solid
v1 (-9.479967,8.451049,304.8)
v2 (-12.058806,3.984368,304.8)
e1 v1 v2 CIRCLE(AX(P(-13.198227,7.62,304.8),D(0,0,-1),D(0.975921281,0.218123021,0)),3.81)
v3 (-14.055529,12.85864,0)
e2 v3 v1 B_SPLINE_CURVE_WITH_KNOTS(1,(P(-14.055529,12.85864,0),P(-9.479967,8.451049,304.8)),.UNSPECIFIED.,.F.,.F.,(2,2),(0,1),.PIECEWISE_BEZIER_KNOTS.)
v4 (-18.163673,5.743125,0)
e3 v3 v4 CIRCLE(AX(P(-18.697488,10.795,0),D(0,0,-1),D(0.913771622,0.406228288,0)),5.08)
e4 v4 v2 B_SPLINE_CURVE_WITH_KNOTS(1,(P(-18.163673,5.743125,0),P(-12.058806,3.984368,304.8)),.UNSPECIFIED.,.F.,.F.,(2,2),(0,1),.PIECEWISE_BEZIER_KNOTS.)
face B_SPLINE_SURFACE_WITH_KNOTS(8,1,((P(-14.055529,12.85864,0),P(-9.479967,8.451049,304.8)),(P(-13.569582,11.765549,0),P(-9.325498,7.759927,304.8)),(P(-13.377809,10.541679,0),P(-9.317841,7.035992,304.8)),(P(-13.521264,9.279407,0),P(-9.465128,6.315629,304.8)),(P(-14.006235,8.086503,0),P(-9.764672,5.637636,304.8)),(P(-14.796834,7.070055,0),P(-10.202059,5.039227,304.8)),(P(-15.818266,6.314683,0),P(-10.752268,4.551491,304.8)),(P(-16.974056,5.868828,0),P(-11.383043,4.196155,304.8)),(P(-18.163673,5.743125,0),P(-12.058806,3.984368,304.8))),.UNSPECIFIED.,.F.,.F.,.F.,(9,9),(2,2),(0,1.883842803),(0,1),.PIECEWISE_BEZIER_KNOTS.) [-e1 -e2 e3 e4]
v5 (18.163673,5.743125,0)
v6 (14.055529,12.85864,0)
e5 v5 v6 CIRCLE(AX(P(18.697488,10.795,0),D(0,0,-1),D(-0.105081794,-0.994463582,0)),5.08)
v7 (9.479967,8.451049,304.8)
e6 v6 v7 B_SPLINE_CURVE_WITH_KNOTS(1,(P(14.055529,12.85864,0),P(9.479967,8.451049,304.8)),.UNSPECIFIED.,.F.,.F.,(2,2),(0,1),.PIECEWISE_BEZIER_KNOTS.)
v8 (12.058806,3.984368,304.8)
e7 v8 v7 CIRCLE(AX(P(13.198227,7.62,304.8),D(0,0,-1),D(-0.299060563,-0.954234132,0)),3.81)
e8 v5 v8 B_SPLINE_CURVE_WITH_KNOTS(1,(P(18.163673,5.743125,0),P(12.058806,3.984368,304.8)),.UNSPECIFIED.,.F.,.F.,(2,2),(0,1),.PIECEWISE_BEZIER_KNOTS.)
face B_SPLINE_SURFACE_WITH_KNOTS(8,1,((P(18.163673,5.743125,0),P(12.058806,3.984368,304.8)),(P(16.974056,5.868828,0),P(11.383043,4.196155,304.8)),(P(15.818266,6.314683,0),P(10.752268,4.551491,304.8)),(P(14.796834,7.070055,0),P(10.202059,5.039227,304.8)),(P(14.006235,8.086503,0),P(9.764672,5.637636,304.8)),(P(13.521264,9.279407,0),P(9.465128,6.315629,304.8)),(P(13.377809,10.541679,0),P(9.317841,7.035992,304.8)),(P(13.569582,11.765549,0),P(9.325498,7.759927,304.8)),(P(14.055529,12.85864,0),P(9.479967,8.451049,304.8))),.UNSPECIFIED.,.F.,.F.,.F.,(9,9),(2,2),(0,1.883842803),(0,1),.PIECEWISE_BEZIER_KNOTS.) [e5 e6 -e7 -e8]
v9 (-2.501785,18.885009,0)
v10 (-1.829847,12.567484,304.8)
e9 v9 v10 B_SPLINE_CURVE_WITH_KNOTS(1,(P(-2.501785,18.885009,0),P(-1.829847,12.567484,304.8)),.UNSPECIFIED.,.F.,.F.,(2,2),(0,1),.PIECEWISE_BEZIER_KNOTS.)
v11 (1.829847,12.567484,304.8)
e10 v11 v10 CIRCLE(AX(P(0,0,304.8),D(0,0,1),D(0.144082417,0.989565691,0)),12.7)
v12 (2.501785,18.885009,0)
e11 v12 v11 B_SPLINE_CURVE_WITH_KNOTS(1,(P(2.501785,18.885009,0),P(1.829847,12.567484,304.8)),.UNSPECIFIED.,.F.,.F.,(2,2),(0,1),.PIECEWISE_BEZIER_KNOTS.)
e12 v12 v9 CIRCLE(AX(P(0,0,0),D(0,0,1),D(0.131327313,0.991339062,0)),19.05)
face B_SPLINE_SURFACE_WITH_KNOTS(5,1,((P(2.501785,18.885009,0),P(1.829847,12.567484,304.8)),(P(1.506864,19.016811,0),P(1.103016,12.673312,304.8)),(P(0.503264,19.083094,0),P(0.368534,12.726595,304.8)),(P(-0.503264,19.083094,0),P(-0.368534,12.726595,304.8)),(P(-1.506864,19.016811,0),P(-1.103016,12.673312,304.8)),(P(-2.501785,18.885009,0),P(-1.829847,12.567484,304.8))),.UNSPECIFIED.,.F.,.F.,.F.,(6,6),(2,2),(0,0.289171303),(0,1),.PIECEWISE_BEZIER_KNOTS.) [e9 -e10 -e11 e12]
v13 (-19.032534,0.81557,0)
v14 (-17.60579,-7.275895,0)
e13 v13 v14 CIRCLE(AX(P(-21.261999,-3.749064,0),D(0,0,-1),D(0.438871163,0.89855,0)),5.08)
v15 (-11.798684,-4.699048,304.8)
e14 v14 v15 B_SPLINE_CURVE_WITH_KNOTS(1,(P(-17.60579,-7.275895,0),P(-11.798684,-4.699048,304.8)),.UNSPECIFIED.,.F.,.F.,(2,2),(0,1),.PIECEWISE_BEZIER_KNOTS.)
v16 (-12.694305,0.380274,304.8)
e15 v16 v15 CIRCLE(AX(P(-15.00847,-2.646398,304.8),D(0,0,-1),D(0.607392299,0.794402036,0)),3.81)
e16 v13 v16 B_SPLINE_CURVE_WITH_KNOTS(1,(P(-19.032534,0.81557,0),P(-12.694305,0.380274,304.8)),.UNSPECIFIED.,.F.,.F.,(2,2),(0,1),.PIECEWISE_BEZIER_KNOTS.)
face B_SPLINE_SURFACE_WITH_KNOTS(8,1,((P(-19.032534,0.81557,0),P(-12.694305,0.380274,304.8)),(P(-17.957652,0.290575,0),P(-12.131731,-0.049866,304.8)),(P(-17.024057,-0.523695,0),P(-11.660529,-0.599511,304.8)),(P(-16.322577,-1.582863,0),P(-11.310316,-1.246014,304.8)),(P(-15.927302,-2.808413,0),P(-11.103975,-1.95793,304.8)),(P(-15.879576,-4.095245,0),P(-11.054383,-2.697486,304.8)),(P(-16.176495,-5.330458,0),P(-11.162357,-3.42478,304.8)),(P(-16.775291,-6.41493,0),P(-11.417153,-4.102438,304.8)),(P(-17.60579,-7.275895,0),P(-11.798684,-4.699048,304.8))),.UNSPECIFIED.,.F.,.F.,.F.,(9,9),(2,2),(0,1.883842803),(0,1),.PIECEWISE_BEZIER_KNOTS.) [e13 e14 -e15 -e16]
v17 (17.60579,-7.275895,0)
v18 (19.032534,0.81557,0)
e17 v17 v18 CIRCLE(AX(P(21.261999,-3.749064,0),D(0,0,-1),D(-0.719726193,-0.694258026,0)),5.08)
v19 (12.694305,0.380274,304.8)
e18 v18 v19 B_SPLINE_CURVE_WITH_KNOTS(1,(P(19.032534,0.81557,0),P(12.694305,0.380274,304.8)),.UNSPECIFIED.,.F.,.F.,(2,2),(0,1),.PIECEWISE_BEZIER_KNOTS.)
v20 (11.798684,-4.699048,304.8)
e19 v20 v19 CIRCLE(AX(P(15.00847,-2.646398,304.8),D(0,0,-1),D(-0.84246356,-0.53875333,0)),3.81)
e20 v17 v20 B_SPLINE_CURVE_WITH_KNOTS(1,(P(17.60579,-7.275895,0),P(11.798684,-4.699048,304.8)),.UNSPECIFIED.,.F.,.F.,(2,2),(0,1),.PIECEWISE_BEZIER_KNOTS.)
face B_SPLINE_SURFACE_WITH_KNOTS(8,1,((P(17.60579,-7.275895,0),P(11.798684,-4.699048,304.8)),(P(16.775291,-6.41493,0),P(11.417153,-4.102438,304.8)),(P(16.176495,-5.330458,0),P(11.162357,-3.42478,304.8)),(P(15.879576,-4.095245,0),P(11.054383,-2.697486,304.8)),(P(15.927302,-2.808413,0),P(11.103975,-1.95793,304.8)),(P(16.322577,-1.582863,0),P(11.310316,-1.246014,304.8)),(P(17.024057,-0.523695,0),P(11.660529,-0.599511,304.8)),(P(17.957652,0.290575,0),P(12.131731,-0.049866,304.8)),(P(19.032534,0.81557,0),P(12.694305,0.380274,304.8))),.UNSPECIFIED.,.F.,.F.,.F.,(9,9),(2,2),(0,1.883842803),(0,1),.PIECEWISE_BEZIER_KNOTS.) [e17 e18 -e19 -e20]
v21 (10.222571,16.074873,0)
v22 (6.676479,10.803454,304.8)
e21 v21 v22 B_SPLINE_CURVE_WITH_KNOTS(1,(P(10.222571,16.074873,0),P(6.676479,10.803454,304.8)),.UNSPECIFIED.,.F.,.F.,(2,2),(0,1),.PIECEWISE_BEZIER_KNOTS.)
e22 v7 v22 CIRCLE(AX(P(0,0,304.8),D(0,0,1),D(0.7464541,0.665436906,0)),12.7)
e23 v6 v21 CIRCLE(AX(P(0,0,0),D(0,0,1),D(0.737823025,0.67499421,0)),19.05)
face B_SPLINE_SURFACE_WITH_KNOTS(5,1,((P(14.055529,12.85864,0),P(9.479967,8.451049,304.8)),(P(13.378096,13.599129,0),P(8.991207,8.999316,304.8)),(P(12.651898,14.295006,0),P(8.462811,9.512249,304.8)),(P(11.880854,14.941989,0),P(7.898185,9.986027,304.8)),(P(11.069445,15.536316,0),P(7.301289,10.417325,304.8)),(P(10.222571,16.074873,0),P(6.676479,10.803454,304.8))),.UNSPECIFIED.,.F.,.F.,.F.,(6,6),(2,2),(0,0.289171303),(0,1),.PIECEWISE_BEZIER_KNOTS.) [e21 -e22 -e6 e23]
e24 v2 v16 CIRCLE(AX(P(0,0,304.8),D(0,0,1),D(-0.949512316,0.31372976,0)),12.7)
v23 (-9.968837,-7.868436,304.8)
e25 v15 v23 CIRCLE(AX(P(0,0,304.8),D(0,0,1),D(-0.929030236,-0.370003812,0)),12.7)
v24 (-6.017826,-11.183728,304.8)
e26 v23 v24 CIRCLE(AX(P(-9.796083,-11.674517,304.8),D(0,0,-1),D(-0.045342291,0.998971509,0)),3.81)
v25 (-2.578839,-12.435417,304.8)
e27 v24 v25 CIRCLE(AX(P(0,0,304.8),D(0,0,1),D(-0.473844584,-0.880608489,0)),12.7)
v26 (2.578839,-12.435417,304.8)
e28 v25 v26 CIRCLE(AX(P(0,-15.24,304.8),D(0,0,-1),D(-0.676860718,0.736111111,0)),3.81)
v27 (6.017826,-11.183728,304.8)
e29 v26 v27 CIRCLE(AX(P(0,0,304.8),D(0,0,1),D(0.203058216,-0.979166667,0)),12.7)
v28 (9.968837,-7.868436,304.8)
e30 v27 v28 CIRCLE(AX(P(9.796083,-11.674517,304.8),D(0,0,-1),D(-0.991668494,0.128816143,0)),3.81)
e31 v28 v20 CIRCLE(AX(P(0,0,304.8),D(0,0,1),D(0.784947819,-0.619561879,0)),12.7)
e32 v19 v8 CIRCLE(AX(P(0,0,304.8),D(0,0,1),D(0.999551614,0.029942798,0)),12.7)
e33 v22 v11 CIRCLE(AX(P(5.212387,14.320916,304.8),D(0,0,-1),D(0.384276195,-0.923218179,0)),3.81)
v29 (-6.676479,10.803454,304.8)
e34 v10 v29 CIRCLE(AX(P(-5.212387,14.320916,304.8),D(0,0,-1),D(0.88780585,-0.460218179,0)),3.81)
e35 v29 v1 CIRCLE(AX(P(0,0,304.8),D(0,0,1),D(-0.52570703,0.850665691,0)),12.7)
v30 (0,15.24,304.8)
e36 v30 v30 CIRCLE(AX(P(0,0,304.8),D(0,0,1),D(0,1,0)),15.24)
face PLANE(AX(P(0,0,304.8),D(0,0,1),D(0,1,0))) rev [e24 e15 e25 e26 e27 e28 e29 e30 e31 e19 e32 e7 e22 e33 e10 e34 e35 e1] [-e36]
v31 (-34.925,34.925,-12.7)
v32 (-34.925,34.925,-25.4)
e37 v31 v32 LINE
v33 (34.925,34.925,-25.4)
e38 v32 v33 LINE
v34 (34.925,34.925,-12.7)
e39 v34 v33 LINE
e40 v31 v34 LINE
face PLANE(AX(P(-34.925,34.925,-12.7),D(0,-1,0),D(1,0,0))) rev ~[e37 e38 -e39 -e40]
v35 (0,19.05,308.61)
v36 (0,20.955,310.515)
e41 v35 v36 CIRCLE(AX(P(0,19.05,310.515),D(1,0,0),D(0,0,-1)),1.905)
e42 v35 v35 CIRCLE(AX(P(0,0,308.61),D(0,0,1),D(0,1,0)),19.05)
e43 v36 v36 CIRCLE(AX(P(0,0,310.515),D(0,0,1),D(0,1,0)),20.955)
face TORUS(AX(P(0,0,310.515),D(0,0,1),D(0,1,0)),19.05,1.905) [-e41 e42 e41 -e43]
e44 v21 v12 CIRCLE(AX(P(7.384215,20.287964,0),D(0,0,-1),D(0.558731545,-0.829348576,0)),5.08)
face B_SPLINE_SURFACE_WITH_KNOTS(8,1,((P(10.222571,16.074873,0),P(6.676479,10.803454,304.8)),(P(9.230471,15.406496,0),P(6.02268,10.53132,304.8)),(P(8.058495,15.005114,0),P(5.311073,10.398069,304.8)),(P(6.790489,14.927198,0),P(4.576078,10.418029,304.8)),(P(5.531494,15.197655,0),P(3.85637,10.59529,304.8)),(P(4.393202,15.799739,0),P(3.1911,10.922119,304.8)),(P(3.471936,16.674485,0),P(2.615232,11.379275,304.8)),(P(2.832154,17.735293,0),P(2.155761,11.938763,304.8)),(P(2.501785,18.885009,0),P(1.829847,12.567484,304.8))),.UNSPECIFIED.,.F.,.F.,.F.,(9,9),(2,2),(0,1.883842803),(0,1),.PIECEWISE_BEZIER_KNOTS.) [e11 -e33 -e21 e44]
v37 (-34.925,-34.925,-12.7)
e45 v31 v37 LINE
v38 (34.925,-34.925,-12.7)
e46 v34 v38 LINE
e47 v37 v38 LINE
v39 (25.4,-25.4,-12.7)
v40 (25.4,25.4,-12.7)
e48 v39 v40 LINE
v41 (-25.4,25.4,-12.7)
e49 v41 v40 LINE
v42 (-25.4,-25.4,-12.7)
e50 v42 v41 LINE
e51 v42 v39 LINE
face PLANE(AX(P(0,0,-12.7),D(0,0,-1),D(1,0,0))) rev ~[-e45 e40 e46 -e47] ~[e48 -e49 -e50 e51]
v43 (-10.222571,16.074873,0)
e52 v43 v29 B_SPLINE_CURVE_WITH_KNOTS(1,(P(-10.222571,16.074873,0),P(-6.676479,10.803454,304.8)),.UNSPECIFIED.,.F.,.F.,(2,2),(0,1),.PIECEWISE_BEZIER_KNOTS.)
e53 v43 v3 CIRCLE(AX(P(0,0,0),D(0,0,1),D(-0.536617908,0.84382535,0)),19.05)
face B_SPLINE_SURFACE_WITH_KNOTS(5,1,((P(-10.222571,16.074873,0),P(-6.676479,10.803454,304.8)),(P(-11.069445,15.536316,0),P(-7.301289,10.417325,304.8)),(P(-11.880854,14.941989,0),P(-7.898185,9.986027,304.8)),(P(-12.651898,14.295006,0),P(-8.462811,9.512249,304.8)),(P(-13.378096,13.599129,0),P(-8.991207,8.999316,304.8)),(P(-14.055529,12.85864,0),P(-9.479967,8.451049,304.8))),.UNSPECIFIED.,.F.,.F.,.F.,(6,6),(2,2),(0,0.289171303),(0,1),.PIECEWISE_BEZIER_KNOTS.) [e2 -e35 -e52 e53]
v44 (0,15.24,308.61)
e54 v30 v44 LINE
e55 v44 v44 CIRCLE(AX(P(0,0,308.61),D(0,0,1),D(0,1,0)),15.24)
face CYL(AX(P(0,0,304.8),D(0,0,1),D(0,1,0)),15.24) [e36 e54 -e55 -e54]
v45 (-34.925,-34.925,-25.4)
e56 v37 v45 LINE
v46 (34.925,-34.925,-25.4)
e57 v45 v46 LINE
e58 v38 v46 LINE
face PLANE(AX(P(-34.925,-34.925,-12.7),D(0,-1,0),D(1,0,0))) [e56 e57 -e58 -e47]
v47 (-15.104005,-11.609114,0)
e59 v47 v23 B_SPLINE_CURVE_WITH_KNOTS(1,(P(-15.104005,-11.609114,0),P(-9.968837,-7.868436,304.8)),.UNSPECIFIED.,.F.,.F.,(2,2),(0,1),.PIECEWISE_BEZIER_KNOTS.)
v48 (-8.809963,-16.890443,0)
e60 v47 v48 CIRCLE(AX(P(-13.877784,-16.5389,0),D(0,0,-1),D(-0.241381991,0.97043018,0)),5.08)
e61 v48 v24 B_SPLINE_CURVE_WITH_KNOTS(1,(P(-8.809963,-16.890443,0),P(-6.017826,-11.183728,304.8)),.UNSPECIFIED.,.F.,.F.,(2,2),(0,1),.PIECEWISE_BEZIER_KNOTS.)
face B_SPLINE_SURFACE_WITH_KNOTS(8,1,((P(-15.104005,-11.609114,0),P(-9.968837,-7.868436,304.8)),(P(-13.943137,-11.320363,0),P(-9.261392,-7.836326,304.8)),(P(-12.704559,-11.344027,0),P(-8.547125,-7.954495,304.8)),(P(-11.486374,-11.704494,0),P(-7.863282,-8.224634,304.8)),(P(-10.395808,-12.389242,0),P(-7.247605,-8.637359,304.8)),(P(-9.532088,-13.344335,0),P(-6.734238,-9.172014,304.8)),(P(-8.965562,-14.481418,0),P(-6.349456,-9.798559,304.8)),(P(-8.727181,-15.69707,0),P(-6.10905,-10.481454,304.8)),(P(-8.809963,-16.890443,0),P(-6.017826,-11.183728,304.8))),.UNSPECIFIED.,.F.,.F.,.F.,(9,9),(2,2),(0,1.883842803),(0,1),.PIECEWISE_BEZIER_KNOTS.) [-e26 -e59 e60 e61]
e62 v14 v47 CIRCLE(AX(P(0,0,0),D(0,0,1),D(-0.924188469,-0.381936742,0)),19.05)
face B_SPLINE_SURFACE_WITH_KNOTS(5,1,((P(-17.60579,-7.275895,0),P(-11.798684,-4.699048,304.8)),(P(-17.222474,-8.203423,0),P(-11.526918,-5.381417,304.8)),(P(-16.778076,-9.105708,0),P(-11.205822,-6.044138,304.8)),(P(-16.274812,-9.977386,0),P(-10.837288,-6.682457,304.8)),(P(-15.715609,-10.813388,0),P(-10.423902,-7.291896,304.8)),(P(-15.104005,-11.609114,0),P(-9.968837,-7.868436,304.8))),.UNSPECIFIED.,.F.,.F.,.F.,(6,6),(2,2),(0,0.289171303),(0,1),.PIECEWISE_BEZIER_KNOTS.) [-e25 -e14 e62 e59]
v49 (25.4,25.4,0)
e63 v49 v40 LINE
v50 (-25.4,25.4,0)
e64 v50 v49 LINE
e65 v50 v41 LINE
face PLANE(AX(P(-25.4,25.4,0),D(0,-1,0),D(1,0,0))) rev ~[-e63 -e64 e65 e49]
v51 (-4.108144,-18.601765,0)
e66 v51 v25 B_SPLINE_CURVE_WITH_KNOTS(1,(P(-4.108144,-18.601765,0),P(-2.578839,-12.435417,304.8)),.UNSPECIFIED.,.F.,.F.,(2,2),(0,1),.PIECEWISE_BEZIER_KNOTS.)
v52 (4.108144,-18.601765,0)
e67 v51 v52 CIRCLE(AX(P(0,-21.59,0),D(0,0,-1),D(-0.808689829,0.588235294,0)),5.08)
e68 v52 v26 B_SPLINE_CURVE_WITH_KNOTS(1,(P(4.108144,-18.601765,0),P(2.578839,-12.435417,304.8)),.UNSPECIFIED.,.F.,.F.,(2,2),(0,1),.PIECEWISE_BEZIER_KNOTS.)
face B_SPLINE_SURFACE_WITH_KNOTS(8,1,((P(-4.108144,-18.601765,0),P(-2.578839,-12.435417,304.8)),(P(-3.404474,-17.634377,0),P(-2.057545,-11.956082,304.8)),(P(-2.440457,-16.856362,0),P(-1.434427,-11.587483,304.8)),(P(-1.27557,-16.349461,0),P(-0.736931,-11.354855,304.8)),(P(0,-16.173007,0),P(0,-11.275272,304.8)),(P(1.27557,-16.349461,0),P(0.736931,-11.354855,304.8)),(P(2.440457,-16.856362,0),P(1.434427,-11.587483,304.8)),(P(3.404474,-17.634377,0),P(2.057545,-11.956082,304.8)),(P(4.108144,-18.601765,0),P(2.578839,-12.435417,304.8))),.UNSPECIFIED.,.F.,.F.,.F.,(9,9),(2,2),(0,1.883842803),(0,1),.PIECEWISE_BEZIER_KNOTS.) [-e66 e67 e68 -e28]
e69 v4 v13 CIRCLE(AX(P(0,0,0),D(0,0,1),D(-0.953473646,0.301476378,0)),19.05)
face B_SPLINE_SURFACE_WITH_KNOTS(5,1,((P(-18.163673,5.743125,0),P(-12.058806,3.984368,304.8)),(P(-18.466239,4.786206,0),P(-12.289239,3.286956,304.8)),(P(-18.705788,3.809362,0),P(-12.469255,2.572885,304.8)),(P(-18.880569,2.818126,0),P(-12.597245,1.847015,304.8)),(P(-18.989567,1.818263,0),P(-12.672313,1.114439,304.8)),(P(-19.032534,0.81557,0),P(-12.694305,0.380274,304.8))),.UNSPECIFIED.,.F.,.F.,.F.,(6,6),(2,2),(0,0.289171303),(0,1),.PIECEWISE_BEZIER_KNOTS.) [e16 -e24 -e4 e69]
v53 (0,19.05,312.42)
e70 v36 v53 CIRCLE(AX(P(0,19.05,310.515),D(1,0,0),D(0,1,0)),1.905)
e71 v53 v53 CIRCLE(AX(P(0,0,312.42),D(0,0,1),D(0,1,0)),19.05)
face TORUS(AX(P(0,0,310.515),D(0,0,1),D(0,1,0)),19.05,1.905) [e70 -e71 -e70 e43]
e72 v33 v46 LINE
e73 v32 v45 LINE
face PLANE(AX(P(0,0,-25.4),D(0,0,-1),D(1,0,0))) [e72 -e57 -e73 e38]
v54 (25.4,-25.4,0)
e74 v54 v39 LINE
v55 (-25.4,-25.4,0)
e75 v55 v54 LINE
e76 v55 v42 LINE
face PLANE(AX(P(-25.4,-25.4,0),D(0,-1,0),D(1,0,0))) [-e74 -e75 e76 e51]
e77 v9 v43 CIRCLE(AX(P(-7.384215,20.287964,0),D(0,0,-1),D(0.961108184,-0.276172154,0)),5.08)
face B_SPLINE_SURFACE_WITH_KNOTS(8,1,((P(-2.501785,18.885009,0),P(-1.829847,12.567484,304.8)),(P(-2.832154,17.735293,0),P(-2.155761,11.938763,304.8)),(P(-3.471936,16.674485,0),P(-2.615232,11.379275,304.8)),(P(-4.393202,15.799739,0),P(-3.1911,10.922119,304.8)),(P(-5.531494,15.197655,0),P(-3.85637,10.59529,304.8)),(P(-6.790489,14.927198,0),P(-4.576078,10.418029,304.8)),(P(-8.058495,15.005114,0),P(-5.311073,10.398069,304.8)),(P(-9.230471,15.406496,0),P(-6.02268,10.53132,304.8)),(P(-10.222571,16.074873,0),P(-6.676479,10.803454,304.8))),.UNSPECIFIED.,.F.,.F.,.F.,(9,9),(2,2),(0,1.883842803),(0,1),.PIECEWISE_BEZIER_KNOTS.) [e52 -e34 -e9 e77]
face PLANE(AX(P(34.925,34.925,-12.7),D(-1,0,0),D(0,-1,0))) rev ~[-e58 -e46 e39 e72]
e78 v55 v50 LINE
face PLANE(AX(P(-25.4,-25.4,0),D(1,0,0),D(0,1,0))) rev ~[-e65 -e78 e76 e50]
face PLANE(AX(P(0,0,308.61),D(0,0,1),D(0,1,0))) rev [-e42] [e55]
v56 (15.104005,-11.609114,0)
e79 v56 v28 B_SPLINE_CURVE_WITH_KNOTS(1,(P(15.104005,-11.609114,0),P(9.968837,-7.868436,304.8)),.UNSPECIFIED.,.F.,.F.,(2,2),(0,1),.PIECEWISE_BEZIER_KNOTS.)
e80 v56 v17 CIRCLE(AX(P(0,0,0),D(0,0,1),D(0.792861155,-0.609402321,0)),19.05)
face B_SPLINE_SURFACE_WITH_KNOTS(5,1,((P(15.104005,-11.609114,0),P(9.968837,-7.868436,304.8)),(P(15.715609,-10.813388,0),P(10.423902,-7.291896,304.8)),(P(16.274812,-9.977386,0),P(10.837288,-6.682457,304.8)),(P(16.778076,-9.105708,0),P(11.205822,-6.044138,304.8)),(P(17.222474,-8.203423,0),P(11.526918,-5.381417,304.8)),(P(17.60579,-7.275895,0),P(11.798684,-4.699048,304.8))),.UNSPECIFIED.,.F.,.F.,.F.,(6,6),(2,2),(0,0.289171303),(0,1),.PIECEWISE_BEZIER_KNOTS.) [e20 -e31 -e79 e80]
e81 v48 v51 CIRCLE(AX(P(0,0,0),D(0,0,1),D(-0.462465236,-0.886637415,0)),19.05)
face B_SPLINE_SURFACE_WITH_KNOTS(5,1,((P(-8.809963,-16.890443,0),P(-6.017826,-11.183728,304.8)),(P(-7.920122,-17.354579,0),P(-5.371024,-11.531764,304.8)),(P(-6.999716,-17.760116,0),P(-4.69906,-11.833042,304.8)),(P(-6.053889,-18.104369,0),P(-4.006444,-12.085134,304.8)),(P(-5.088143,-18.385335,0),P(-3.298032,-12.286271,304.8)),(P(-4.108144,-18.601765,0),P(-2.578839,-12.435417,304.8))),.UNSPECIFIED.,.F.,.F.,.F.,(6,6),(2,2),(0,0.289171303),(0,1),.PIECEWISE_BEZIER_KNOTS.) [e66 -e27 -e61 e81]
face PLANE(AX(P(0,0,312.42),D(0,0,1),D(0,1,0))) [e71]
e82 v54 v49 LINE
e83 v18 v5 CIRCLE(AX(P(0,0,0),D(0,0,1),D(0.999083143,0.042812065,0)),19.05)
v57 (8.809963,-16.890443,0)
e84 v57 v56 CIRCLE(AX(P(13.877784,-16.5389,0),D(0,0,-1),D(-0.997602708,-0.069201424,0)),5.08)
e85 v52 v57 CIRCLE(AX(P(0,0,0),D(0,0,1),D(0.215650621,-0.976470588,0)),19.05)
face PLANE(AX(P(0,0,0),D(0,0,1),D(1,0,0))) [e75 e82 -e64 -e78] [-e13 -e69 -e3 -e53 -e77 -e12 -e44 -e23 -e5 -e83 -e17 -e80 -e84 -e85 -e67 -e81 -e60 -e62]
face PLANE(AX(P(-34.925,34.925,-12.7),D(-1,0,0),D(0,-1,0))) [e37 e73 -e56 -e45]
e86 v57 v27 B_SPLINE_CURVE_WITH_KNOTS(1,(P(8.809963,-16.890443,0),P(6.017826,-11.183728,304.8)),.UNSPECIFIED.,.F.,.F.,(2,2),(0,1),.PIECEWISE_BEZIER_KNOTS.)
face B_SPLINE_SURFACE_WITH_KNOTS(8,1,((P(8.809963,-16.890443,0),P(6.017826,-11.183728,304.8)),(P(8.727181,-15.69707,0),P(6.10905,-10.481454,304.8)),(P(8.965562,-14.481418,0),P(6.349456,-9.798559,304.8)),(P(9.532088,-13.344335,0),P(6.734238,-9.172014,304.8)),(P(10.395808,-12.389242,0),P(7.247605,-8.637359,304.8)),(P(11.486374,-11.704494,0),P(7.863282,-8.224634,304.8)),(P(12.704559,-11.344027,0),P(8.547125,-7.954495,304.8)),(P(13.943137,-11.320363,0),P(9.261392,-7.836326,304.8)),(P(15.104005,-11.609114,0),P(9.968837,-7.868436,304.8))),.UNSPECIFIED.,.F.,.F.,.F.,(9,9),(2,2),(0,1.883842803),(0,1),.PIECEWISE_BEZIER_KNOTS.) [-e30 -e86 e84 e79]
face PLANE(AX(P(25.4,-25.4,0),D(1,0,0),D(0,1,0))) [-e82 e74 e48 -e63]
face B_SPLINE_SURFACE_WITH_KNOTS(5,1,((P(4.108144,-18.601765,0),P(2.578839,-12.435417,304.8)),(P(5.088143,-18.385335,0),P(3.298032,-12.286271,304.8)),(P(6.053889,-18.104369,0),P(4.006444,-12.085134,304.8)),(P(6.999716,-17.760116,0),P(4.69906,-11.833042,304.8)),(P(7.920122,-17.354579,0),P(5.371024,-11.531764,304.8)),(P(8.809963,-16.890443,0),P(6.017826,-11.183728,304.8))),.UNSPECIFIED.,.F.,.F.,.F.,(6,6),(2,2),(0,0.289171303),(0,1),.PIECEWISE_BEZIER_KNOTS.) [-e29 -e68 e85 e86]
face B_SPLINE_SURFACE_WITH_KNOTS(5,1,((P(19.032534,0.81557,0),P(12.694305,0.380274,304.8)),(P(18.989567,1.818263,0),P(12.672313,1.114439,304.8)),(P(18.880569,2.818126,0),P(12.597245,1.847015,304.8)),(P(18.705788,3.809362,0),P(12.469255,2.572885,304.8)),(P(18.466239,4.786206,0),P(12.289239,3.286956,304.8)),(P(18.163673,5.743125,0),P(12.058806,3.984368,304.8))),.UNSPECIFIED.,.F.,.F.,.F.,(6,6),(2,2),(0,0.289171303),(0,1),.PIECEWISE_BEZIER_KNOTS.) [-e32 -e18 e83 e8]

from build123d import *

# Parameters (mm, degrees)
F6_W     = 50.8
F6_H     = 50.8
F7_DEPTH = 12.7
F8_W     = 69.85
F8_H     = 69.85
F8_W_2   = 50.8
F8_H_2   = 50.8
F9_DEPTH = 12.7


with BuildPart() as f3:
    # F0 (on Top) → F3 section 0
    with BuildSketch(Plane.XY):
        with BuildLine():
            ThreePointArc((17.6057903258, -7.2758949281), (16.2591760022, -2.8669314133), (19.0325338784, 0.815569843))
            ThreePointArc((19.0325338784, 0.815569843), (18.7605876949, 3.3079977846), (18.163672955, 5.7431250017))
            ThreePointArc((18.163672955, 5.7431250017), (14.2980794165, 8.255), (14.0555286261, 12.8586397042))
            ThreePointArc((14.0555286261, 12.8586397042), (12.2451039645, 14.5931466414), (10.2225711418, 16.0748729155))
            ThreePointArc((10.2225711418, 16.0748729155), (5.6467525663, 15.5143251692), (2.5017853198, 18.8850091399))
            ThreePointArc((2.5017853198, 18.8850091399), (0, 19.05), (-2.5017853198, 18.8850091399))
            ThreePointArc((-2.5017853198, 18.8850091399), (-5.6467525663, 15.5143251692), (-10.2225711418, 16.0748729155))
            ThreePointArc((-10.2225711418, 16.0748729155), (-12.2451039645, 14.5931466414), (-14.0555286261, 12.8586397042))
            ThreePointArc((-14.0555286261, 12.8586397042), (-14.2980794165, 8.255), (-18.163672955, 5.7431250017))
            ThreePointArc((-18.163672955, 5.7431250017), (-18.7605876949, 3.3079977846), (-19.0325338784, 0.815569843))
            ThreePointArc((-19.0325338784, 0.815569843), (-16.2591760022, -2.8669314133), (-17.6057903258, -7.2758949281))
            ThreePointArc((-17.6057903258, -7.2758949281), (-16.4977839421, -9.525), (-15.1040050059, -11.6091142117))
            ThreePointArc((-15.1040050059, -11.6091142117), (-10.6124234359, -12.6473937559), (-8.8099627366, -16.8904427586))
            ThreePointArc((-8.8099627366, -16.8904427586), (-6.5154837304, -17.901144426), (-4.1081443289, -18.6017647059))
            ThreePointArc((-4.1081443289, -18.6017647059), (0, -16.51), (4.1081443289, -18.6017647059))
            ThreePointArc((4.1081443289, -18.6017647059), (6.5154837304, -17.901144426), (8.8099627366, -16.8904427586))
            ThreePointArc((8.8099627366, -16.8904427586), (10.6124234359, -12.6473937559), (15.1040050059, -11.6091142117))
            ThreePointArc((15.1040050059, -11.6091142117), (16.4977839421, -9.525), (17.6057903258, -7.2758949281))
        make_face()
    # F2 (on offset) → F3 section 1
    with BuildSketch(Plane.XY.offset(304.8)):
        with BuildLine():
            ThreePointArc((11.7986839939, -4.6990484156), (11.2563526169, -1.9847986707), (12.6943054966, 0.3802735302))
            ThreePointArc((12.6943054966, 0.3802735302), (12.5070584633, 2.2053318564), (12.0588064085, 3.9843679552))
            ThreePointArc((12.0588064085, 3.9843679552), (9.8986703653, 5.715), (9.4799670714, 8.4510487115))
            ThreePointArc((9.4799670714, 8.4510487115), (8.163402643, 9.7287644276), (6.6764792859, 10.8034542784))
            ThreePointArc((6.6764792859, 10.8034542784), (3.9092902382, 10.7406866556), (1.8298466954, 12.5674842777))
            ThreePointArc((1.8298466954, 12.5674842777), (0, 12.7), (-1.8298466954, 12.5674842777))
            ThreePointArc((-1.8298466954, 12.5674842777), (-3.9092902382, 10.7406866556), (-6.6764792859, 10.8034542784))
            ThreePointArc((-6.6764792859, 10.8034542784), (-8.163402643, 9.7287644276), (-9.4799670714, 8.4510487115))
            ThreePointArc((-9.4799670714, 8.4510487115), (-9.8986703653, 5.715), (-12.0588064085, 3.9843679552))
            ThreePointArc((-12.0588064085, 3.9843679552), (-12.5070584633, 2.2053318564), (-12.6943054966, 0.3802735302))
            ThreePointArc((-12.6943054966, 0.3802735302), (-11.2563526169, -1.9847986707), (-11.7986839939, -4.6990484156))
            ThreePointArc((-11.7986839939, -4.6990484156), (-10.9985226281, -6.35), (-9.9688372985, -7.8684358621))
            ThreePointArc((-9.9688372985, -7.8684358621), (-7.3470623787, -8.7558879848), (-6.0178262108, -11.1837278086))
            ThreePointArc((-6.0178262108, -11.1837278086), (-4.3436558202, -11.934096284), (-2.5788393371, -12.4354166667))
            ThreePointArc((-2.5788393371, -12.4354166667), (0, -11.43), (2.5788393371, -12.4354166667))
            ThreePointArc((2.5788393371, -12.4354166667), (4.3436558202, -11.934096284), (6.0178262108, -11.1837278086))
            ThreePointArc((6.0178262108, -11.1837278086), (7.3470623787, -8.7558879848), (9.9688372985, -7.8684358621))
            ThreePointArc((9.9688372985, -7.8684358621), (10.9985226281, -6.35), (11.7986839939, -4.6990484156))
        make_face()
    loft()

    # F4 (on Right) → F5 (revolve)
    with BuildSketch(Plane.YZ):
        with BuildLine():
            Line((0, 312.42), (0, 304.8))
            Line((0, 304.8), (15.24, 304.8))
            Line((15.24, 304.8), (15.24, 308.61))
            Line((15.24, 308.61), (19.05, 308.61))
            ThreePointArc((19.05, 308.61), (17.145, 310.515), (19.05, 312.42))
            Line((19.05, 312.42), (0, 312.42))
        make_face()
        with BuildLine():
            Line((19.05, 308.61), (19.05, 312.42))
            ThreePointArc((19.05, 312.42), (17.145, 310.515), (19.05, 308.61))
        make_face()
        with BuildLine():
            ThreePointArc((20.955, 310.515), (20.3970384182, 311.8620384182), (19.05, 312.42))
            Line((19.05, 312.42), (19.05, 308.61))
            ThreePointArc((19.05, 308.61), (20.3970384182, 309.1679615818), (20.955, 310.515))
        make_face()
    revolve(axis=Axis((0, 0, 308.61), (0, 0, 1)))

    # F6 (on Top) → F7 (join)
    with BuildSketch(Plane.XY):
        Rectangle(F6_W, F6_H)
    extrude(amount=-F7_DEPTH)

    # F8 (on face) → F9 (join)
    with BuildSketch(Plane(origin=(0, 0, -12.7), x_dir=(1, 0, 0), z_dir=(0, 0, -1))):
        Rectangle(F8_W, F8_H)
        Rectangle(F8_W_2, F8_H_2, mode=Mode.SUBTRACT)
        Rectangle(F8_W_2, F8_H_2)
    extrude(amount=F9_DEPTH)


solid = f3.part
